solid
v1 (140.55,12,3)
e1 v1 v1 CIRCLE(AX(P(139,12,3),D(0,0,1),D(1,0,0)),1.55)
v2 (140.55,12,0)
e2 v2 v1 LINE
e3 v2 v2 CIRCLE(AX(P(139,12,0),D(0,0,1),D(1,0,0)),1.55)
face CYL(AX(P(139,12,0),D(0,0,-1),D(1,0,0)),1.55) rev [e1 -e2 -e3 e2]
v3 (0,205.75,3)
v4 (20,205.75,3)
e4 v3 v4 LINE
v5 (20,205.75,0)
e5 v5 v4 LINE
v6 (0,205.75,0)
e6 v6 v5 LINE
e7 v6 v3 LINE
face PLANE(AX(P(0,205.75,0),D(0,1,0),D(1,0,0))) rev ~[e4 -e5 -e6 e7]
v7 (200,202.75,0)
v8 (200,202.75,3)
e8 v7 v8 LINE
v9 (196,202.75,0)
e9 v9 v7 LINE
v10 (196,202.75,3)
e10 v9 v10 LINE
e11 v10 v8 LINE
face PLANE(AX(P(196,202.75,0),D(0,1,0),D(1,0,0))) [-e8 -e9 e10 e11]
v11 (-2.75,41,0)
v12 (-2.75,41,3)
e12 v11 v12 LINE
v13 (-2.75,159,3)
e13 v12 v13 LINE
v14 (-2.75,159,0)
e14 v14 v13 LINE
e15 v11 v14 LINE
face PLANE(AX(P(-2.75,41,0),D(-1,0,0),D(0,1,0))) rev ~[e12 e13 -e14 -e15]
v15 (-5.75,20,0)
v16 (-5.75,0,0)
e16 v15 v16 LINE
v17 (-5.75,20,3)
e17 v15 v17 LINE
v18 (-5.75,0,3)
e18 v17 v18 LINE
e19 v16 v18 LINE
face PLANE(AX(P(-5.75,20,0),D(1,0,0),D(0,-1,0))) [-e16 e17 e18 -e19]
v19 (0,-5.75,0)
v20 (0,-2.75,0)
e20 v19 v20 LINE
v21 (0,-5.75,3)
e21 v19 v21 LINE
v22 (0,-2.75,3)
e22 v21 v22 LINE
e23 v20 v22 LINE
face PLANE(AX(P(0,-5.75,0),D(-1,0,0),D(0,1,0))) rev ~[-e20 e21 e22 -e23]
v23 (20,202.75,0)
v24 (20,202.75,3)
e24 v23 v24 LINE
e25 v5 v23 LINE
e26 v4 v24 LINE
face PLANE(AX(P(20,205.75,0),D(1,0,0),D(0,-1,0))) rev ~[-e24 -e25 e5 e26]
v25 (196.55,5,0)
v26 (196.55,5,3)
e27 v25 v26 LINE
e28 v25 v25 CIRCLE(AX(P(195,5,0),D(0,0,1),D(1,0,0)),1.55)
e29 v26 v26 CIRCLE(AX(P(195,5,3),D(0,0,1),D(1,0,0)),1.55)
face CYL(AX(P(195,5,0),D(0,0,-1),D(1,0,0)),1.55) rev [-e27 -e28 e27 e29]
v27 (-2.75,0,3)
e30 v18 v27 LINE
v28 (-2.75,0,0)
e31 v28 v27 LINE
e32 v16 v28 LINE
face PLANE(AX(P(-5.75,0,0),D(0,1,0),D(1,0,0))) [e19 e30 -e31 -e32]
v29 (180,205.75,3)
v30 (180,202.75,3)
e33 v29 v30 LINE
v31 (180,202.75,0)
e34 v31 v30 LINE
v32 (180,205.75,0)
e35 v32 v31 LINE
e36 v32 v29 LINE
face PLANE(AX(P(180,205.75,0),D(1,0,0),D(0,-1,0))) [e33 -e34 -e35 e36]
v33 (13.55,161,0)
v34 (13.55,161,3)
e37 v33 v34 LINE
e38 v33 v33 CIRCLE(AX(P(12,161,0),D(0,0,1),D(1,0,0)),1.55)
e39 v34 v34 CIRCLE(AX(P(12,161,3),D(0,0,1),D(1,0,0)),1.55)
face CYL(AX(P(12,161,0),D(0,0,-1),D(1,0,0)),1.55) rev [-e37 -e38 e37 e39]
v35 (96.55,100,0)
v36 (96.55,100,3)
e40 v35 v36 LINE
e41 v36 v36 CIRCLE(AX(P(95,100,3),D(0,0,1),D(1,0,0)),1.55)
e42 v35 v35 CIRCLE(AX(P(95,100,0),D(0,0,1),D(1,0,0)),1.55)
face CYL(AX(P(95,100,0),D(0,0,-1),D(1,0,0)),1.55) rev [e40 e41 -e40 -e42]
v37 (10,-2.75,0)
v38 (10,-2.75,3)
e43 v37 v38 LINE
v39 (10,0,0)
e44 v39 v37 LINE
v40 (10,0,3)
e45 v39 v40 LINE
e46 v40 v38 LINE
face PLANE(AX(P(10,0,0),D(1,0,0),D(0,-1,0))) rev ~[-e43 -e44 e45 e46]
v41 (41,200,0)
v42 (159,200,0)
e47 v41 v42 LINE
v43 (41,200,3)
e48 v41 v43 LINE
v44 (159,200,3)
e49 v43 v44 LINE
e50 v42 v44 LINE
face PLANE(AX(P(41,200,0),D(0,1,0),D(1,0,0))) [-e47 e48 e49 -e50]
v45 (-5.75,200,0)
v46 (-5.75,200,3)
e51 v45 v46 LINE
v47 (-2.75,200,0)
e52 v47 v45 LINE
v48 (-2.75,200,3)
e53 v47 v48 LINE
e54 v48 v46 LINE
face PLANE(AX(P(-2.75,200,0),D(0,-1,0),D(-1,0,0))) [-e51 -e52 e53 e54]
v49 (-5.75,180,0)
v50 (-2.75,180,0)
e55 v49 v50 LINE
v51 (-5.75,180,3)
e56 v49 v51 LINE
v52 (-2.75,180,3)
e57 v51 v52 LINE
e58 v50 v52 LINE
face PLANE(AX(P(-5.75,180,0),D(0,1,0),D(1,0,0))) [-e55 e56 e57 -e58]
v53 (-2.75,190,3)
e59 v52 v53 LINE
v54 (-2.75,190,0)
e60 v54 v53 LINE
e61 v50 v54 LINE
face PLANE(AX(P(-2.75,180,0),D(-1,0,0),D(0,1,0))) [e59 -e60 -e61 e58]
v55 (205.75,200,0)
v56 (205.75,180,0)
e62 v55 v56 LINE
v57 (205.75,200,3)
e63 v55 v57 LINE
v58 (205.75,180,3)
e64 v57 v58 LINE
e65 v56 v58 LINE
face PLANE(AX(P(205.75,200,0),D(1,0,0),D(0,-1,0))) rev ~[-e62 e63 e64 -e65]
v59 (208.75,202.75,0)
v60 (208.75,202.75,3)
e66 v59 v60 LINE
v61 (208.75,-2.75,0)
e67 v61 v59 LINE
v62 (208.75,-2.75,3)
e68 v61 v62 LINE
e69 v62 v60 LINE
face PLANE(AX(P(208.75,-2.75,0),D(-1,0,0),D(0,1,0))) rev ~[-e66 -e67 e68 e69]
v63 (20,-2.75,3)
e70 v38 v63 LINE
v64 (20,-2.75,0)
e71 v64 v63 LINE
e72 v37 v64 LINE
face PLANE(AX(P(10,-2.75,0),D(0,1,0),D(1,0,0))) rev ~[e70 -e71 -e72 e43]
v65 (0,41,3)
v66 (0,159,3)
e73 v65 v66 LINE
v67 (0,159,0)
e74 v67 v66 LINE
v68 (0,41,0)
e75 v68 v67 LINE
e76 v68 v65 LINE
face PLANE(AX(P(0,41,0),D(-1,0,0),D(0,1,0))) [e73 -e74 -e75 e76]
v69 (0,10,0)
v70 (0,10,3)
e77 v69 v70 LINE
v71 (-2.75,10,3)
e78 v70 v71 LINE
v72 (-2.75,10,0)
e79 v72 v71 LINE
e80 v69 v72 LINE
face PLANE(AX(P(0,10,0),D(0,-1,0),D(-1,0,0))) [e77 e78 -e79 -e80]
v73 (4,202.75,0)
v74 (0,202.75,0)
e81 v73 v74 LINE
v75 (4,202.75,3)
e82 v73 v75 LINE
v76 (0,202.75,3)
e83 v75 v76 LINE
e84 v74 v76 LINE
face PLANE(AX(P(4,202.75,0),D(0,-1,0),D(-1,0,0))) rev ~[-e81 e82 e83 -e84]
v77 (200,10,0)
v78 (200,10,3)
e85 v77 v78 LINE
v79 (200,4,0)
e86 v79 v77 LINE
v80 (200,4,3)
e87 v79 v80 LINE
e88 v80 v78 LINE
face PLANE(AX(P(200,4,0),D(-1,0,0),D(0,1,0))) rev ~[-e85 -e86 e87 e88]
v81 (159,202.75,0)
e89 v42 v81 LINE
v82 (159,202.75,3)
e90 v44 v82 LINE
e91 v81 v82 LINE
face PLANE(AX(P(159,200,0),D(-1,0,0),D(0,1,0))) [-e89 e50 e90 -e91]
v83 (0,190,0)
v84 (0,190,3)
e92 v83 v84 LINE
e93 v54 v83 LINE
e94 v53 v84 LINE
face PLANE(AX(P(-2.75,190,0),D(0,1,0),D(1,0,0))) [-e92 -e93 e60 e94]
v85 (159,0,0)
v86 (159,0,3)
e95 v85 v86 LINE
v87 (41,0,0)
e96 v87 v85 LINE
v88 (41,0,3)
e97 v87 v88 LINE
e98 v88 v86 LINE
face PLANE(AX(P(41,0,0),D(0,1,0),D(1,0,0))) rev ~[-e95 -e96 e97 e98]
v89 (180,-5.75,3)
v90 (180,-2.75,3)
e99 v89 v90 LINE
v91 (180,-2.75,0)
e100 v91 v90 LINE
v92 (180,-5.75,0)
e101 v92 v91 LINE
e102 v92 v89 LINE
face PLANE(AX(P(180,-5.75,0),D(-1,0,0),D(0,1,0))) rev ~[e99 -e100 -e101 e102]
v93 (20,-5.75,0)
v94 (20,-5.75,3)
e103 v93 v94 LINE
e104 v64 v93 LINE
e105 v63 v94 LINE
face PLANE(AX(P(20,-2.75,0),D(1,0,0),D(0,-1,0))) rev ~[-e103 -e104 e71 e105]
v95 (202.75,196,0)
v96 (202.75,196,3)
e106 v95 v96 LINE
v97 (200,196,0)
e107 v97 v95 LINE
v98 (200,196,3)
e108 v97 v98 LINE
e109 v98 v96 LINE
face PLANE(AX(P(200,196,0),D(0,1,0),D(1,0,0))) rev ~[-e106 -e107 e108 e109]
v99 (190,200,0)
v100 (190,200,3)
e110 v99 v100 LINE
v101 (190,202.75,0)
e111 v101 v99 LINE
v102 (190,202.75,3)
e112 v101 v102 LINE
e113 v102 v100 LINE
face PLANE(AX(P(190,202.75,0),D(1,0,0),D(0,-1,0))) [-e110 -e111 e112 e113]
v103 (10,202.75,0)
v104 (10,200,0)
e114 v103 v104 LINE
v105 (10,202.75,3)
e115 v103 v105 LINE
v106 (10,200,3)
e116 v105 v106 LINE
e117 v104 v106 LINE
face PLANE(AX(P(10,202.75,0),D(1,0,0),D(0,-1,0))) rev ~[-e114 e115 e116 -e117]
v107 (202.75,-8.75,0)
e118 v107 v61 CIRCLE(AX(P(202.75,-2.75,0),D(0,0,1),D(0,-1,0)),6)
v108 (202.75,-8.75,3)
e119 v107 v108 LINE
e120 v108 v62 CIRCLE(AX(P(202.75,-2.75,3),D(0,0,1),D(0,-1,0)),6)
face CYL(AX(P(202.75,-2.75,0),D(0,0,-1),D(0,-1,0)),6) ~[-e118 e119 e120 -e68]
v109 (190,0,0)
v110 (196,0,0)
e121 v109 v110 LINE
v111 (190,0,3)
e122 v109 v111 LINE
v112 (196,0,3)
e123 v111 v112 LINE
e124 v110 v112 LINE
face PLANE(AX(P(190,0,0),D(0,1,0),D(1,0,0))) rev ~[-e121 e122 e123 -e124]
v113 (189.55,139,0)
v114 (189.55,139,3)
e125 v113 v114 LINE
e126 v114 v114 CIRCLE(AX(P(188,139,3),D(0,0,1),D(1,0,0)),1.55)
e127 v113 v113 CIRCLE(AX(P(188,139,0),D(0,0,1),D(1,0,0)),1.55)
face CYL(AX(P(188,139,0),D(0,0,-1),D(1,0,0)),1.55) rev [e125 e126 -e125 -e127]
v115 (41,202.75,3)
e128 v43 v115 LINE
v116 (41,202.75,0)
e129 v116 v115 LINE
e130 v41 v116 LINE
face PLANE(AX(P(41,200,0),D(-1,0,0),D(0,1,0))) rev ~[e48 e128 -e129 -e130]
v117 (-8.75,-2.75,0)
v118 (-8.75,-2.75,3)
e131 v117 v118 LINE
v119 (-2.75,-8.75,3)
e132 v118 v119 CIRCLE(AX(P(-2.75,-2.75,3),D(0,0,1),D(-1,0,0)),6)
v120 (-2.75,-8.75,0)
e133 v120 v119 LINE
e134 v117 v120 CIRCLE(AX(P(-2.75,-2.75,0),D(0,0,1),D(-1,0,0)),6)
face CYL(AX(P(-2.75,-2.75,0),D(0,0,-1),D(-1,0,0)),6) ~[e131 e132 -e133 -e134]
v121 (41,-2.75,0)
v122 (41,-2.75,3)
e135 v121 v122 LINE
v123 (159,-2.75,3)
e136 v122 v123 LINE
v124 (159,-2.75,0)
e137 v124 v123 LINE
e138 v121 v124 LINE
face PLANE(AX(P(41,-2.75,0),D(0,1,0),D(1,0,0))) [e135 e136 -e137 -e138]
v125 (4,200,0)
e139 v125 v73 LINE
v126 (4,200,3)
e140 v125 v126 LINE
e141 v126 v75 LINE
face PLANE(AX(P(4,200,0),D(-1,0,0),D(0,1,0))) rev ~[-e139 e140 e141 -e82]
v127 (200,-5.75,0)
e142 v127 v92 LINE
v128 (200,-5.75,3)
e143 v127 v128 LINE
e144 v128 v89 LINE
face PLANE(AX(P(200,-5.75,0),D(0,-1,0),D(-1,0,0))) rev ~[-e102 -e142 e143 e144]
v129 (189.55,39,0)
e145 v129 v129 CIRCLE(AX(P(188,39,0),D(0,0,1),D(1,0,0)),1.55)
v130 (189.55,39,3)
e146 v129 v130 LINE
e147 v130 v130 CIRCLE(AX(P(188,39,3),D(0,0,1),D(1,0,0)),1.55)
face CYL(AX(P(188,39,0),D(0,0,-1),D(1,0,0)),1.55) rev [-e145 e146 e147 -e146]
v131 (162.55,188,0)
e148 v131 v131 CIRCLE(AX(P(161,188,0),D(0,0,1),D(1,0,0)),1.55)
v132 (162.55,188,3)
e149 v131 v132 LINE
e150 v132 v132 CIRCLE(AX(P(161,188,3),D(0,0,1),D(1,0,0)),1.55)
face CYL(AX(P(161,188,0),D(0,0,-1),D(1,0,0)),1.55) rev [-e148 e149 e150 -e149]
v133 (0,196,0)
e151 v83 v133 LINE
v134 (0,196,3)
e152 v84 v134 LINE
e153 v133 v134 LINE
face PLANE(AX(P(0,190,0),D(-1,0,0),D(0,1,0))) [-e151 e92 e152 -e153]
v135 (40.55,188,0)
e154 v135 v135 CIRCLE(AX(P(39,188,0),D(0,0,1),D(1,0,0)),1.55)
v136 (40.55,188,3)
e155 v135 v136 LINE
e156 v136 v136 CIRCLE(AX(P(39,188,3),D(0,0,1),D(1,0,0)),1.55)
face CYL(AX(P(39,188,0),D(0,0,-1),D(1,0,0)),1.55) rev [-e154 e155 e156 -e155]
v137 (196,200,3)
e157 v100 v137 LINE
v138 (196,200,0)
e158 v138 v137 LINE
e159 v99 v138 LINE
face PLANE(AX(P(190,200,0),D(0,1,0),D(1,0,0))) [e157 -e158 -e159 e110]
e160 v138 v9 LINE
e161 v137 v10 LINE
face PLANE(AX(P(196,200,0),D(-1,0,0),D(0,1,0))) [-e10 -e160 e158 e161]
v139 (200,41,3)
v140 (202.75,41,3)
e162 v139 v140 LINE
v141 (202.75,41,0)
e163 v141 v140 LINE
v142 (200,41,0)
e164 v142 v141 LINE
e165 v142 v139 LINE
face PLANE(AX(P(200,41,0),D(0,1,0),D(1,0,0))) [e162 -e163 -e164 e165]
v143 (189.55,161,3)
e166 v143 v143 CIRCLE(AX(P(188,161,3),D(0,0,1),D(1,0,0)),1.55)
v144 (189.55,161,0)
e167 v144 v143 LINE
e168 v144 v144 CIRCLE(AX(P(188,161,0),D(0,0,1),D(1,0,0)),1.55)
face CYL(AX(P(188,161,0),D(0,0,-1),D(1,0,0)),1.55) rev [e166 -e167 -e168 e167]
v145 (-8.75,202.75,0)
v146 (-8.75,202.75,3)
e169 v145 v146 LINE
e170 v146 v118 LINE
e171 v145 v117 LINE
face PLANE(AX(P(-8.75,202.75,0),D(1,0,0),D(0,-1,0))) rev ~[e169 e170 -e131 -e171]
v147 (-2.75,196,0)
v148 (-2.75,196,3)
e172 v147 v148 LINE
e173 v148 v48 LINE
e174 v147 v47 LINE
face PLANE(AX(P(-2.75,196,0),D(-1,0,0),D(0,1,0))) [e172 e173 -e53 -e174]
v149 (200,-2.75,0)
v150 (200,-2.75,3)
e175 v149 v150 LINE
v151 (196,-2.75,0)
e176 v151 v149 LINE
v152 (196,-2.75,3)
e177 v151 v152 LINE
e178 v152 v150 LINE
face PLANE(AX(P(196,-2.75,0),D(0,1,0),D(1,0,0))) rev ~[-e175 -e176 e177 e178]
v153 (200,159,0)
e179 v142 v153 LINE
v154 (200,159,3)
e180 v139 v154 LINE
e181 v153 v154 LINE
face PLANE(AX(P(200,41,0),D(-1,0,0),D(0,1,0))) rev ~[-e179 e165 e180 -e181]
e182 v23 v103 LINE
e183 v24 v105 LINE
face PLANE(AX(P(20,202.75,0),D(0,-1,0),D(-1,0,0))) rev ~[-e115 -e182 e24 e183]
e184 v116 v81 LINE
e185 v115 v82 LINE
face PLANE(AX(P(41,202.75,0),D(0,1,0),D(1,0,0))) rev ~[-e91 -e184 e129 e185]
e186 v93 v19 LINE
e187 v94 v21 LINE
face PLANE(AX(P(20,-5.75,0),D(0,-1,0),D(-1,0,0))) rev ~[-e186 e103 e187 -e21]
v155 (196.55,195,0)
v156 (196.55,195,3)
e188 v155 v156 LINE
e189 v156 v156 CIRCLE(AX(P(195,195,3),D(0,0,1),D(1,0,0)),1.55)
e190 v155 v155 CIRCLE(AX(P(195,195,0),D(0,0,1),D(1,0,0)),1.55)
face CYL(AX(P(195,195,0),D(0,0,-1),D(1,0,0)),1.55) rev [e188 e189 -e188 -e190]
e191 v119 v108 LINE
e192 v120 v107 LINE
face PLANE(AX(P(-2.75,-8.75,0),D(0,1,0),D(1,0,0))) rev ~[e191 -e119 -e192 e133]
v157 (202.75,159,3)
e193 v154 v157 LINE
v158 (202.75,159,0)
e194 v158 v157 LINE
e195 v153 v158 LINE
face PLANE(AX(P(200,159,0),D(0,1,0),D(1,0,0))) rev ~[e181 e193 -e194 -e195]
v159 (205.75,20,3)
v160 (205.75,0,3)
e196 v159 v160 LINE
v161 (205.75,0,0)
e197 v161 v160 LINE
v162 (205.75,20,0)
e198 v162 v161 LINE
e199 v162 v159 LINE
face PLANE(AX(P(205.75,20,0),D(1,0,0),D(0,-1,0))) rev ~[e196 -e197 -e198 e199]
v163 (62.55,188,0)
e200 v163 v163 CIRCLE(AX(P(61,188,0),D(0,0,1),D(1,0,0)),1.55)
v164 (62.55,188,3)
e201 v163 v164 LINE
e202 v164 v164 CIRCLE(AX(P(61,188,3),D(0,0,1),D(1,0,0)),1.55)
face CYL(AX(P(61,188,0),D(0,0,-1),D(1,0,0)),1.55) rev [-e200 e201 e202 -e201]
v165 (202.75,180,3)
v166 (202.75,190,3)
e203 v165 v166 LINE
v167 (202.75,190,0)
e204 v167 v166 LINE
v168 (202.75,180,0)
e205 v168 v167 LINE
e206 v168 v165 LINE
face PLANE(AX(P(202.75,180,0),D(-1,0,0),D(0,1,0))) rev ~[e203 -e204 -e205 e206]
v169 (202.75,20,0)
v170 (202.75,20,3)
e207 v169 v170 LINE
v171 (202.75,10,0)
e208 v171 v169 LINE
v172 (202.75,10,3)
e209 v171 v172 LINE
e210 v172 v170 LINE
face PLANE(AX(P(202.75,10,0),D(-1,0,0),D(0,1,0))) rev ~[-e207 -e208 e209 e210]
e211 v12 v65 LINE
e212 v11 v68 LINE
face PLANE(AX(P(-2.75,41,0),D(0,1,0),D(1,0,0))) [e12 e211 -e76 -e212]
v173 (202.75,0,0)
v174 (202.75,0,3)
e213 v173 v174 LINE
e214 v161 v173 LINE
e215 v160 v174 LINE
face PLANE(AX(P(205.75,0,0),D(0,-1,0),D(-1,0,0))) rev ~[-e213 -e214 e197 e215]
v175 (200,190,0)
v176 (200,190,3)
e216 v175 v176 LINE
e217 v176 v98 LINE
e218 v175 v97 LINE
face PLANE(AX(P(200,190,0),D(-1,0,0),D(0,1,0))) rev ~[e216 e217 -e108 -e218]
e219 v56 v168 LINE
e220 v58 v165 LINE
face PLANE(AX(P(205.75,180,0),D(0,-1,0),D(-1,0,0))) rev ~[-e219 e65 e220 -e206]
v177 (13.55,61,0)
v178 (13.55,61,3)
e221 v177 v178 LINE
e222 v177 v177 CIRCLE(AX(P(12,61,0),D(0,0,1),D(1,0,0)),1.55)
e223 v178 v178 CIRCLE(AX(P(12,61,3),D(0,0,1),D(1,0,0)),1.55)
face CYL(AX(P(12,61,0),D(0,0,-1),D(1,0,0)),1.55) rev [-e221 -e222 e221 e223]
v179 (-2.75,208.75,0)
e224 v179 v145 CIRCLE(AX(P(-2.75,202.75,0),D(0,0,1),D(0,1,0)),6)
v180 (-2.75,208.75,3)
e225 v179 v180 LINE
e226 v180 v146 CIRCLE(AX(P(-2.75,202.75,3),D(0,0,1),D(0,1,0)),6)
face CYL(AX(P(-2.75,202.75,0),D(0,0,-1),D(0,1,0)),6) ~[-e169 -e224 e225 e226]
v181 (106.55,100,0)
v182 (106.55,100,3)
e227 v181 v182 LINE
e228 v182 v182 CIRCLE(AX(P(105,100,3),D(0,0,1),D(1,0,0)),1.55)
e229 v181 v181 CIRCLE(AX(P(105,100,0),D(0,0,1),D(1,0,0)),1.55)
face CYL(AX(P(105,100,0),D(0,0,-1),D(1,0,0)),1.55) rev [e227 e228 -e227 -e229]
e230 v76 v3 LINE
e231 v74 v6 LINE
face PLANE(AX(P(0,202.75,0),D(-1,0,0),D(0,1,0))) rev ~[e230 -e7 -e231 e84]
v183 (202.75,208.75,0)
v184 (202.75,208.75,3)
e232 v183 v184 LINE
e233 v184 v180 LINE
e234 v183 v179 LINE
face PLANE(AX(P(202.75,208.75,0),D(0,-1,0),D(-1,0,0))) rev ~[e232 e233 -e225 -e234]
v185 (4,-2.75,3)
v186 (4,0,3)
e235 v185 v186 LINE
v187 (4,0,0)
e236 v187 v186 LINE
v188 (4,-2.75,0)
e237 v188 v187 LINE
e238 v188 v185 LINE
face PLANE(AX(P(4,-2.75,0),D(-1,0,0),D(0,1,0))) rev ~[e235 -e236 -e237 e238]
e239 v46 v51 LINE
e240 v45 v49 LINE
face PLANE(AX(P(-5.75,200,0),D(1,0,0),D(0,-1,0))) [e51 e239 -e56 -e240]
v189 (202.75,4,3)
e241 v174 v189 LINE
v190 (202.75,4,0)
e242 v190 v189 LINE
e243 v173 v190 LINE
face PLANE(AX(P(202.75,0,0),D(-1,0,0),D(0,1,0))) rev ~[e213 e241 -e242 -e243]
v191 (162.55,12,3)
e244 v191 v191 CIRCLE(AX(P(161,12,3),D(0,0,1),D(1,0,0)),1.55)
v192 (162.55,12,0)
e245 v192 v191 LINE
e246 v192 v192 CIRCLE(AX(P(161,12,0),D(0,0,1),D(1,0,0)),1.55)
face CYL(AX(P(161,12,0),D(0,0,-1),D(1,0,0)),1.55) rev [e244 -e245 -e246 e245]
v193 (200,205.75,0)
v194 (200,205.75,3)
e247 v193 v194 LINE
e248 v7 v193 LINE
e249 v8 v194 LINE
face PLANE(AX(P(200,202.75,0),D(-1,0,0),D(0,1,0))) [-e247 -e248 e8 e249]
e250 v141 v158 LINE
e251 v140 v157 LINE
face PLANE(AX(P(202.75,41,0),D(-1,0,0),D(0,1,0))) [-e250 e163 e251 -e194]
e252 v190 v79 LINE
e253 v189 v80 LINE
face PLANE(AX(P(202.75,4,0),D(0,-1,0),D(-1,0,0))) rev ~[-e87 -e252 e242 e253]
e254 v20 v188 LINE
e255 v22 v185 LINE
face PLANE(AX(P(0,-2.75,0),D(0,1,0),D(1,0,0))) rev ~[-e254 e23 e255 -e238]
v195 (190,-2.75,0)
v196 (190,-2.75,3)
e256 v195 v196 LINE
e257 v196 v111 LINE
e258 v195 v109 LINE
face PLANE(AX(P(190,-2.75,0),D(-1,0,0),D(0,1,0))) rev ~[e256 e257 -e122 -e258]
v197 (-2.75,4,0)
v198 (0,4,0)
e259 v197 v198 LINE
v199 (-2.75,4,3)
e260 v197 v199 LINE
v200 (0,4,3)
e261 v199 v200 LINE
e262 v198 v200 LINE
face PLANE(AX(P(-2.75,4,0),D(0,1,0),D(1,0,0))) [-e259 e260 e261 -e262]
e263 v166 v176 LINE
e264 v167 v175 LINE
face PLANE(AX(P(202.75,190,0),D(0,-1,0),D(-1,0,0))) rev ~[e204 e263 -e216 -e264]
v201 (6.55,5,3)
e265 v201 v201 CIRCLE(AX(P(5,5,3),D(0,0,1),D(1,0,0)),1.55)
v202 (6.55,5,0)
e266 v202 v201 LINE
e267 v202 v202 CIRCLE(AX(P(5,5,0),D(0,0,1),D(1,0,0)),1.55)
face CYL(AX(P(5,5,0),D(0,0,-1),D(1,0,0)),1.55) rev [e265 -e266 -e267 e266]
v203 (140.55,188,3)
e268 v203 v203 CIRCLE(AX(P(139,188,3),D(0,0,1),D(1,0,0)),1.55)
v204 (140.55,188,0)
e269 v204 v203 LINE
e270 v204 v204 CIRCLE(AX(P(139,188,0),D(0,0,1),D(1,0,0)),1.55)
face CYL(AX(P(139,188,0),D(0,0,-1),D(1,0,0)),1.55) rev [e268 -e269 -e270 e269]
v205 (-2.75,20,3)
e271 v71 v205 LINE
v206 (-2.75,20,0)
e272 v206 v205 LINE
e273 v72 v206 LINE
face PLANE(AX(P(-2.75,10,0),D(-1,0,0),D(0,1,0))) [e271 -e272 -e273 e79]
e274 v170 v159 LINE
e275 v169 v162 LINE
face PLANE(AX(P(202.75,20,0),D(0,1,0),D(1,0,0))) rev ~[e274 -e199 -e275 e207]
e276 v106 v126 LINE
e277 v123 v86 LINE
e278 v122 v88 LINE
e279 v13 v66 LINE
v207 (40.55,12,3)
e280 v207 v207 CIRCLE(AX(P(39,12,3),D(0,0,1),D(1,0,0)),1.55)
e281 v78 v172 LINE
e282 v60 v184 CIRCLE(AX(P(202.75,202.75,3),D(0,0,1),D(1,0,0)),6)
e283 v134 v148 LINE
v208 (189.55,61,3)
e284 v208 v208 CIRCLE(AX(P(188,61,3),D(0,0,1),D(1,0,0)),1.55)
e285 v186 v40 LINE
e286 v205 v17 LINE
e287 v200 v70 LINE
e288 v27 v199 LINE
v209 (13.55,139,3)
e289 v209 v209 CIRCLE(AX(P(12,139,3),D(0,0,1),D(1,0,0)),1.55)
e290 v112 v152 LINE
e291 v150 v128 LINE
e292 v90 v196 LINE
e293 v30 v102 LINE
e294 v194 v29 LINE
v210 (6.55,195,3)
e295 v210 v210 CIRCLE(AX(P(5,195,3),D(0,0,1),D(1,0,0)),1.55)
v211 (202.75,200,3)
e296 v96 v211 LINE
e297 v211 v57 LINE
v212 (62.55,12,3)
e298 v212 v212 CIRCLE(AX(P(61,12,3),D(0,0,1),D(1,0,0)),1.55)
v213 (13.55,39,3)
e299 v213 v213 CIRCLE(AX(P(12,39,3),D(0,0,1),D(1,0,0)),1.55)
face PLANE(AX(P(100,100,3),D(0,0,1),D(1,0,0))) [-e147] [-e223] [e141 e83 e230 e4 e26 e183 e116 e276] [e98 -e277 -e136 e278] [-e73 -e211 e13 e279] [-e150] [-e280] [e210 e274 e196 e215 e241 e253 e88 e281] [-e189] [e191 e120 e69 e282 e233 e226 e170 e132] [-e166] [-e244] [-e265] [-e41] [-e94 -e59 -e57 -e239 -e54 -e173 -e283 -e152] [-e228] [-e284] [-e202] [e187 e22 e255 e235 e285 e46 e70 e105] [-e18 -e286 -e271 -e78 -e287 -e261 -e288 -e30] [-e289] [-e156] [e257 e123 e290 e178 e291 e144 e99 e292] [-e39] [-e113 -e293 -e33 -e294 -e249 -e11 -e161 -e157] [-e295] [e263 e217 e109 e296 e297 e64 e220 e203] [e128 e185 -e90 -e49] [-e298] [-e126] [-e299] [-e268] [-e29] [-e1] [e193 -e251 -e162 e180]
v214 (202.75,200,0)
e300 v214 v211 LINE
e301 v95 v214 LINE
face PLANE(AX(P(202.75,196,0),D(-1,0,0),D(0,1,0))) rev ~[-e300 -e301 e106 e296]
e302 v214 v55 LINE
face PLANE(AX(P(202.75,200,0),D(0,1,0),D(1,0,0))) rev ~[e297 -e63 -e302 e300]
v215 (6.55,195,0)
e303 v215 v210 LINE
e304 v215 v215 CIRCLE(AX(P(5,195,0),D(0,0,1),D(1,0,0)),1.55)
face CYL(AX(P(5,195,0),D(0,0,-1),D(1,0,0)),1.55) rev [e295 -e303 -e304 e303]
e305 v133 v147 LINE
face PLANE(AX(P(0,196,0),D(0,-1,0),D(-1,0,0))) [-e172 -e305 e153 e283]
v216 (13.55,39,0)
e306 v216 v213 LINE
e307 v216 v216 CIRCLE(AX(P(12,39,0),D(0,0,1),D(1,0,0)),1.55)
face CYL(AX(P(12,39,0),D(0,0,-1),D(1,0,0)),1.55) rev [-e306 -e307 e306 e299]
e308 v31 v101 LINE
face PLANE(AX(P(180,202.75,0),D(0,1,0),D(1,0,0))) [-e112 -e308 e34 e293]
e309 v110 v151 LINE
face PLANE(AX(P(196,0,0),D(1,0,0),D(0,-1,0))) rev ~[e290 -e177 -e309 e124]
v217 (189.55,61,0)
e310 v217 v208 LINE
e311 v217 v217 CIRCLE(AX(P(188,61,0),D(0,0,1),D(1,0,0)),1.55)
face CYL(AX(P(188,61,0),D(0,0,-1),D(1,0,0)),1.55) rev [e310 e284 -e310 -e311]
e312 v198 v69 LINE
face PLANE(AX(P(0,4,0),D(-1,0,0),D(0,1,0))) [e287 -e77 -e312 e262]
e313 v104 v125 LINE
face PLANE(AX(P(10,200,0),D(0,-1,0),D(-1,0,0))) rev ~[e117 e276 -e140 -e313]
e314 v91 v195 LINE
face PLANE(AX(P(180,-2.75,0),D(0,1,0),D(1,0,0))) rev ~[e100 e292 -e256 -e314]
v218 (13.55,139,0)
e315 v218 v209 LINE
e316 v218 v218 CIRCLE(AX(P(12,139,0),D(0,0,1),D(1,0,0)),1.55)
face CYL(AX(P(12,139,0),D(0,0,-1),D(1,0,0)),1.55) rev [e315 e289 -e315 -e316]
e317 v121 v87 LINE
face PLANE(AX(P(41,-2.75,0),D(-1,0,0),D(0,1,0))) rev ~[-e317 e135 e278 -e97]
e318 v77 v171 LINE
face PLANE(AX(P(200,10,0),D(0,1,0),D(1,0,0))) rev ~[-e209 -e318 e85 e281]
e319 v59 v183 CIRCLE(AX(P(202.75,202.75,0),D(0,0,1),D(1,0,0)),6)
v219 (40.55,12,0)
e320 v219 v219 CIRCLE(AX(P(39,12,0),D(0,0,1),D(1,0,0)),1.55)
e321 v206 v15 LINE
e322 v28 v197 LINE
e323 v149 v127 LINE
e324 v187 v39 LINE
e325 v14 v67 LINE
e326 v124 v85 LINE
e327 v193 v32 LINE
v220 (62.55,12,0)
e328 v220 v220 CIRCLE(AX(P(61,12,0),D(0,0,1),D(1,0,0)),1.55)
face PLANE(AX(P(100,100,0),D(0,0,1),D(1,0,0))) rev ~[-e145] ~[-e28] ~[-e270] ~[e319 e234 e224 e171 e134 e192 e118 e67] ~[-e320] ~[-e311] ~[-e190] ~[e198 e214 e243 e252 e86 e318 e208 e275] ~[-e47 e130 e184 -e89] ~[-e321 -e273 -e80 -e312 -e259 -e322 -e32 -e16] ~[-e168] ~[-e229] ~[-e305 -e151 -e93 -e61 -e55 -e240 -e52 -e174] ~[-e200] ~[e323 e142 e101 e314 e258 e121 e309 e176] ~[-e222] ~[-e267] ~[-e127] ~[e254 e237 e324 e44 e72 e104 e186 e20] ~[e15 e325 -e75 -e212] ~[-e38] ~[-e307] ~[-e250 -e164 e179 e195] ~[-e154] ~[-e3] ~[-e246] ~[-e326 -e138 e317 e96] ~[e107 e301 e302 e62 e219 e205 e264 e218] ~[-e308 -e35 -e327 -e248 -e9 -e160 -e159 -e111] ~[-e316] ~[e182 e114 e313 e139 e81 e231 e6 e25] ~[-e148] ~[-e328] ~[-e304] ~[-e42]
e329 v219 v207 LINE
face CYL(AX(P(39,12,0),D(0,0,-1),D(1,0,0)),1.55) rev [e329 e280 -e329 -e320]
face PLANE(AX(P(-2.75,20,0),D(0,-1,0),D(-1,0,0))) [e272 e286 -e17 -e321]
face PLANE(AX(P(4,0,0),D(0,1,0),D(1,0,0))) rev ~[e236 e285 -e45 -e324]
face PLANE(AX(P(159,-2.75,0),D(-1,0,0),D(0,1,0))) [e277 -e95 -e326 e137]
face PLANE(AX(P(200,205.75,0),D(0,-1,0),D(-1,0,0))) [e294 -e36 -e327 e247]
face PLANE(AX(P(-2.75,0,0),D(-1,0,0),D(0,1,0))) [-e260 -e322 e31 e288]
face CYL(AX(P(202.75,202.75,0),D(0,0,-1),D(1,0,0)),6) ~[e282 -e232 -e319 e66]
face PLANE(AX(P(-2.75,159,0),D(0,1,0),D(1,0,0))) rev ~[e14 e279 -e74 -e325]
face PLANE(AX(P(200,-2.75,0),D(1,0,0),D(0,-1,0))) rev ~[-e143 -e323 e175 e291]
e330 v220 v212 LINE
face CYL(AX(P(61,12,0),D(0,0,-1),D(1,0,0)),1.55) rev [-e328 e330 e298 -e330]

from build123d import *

# Parameters (mm, degrees)
SKETCH_1_R      = 1.55
SKETCH_1_W      = 118
SKETCH_1_H      = 2.75
SKETCH_1_W_2    = 2.75
SKETCH_1_H_2    = 118
EXTRUDE_2_DEPTH = 3


with BuildPart() as part:
    # 草图1 → 凸台-拉伸2 (new body)
    with BuildSketch(Plane.XY):
        with BuildLine():
            Line((208.75, -2.75), (208.75, 202.75))
            ThreePointArc((208.75, 202.75), (206.992640687, 206.992640687), (202.75, 208.75))
            Line((202.75, 208.75), (-2.75, 208.75))
            ThreePointArc((-2.75, 208.75), (-6.992640687, 206.992640687), (-8.75, 202.75))
            Line((-8.75, 202.75), (-8.75, -2.75))
            ThreePointArc((-8.75, -2.75), (-6.992640687, -6.992640687), (-2.75, -8.75))
            Line((-2.75, -8.75), (202.75, -8.75))
            ThreePointArc((202.75, -8.75), (206.992640687, -6.992640687), (208.75, -2.75))
        make_face()
        with Locations((5, 195)):
            Circle(SKETCH_1_R, mode=Mode.SUBTRACT)
        with Locations((195, 195)):
            Circle(SKETCH_1_R, mode=Mode.SUBTRACT)
        with Locations((195, 5)):
            Circle(SKETCH_1_R, mode=Mode.SUBTRACT)
        with Locations((5, 5)):
            Circle(SKETCH_1_R, mode=Mode.SUBTRACT)
        with Locations((95, 100)):
            Circle(SKETCH_1_R, mode=Mode.SUBTRACT)
        with Locations((105, 100)):
            Circle(SKETCH_1_R, mode=Mode.SUBTRACT)
        with Locations((39, 12)):
            Circle(SKETCH_1_R, mode=Mode.SUBTRACT)
        with Locations((61, 12)):
            Circle(SKETCH_1_R, mode=Mode.SUBTRACT)
        with Locations((139, 12)):
            Circle(SKETCH_1_R, mode=Mode.SUBTRACT)
        with Locations((161, 12)):
            Circle(SKETCH_1_R, mode=Mode.SUBTRACT)
        with Locations((188, 39)):
            Circle(SKETCH_1_R, mode=Mode.SUBTRACT)
        with Locations((188, 61)):
            Circle(SKETCH_1_R, mode=Mode.SUBTRACT)
        with Locations((188, 161)):
            Circle(SKETCH_1_R, mode=Mode.SUBTRACT)
        with Locations((188, 139)):
            Circle(SKETCH_1_R, mode=Mode.SUBTRACT)
        with Locations((39, 188)):
            Circle(SKETCH_1_R, mode=Mode.SUBTRACT)
        with Locations((61, 188)):
            Circle(SKETCH_1_R, mode=Mode.SUBTRACT)
        with Locations((139, 188)):
            Circle(SKETCH_1_R, mode=Mode.SUBTRACT)
        with Locations((161, 188)):
            Circle(SKETCH_1_R, mode=Mode.SUBTRACT)
        with Locations((12, 161)):
            Circle(SKETCH_1_R, mode=Mode.SUBTRACT)
        with Locations((12, 139)):
            Circle(SKETCH_1_R, mode=Mode.SUBTRACT)
        with Locations((12, 61)):
            Circle(SKETCH_1_R, mode=Mode.SUBTRACT)
        with Locations((12, 39)):
            Circle(SKETCH_1_R, mode=Mode.SUBTRACT)
        Polygon((0, 202.75), (0, 205.75), (20, 205.75), (20, 202.75), (10, 202.75), (10, 200), (4, 200), (4, 202.75), align=None, mode=Mode.SUBTRACT)
        Polygon((4, 0), (10, 0), (10, -2.75), (20, -2.75), (20, -5.75), (0, -5.75), (0, -2.75), (4, -2.75), align=None, mode=Mode.SUBTRACT)
        Polygon((0, 4), (0, 10), (-2.75, 10), (-2.75, 20), (-5.75, 20), (-5.75, 0), (-2.75, 0), (-2.75, 4), align=None, mode=Mode.SUBTRACT)
        Polygon((200, 4), (200, 10), (202.75, 10), (202.75, 20), (205.75, 20), (205.75, 0), (202.75, 0), (202.75, 4), align=None, mode=Mode.SUBTRACT)
        Polygon((200, 202.75), (200, 205.75), (180, 205.75), (180, 202.75), (190, 202.75), (190, 200), (196, 200), (196, 202.75), align=None, mode=Mode.SUBTRACT)
        Polygon((202.75, 200), (205.75, 200), (205.75, 180), (202.75, 180), (202.75, 190), (200, 190), (200, 196), (202.75, 196), align=None, mode=Mode.SUBTRACT)
        Polygon((200, -2.75), (200, -5.75), (180, -5.75), (180, -2.75), (190, -2.75), (190, 0), (196, 0), (196, -2.75), align=None, mode=Mode.SUBTRACT)
        with Locations((100, -1.375)):
            Rectangle(SKETCH_1_W, SKETCH_1_H, mode=Mode.SUBTRACT)
        with Locations((201.375, 100)):
            Rectangle(SKETCH_1_W_2, SKETCH_1_H_2, mode=Mode.SUBTRACT)
        with Locations((100, 201.375)):
            Rectangle(SKETCH_1_W, SKETCH_1_H, mode=Mode.SUBTRACT)
        Polygon((-2.75, 200), (-5.75, 200), (-5.75, 180), (-2.75, 180), (-2.75, 190), (0, 190), (0, 196), (-2.75, 196), align=None, mode=Mode.SUBTRACT)
        with Locations((-1.375, 100)):
            Rectangle(SKETCH_1_W_2, SKETCH_1_H_2, mode=Mode.SUBTRACT)
    extrude(amount=EXTRUDE_2_DEPTH)


solid = part.part
